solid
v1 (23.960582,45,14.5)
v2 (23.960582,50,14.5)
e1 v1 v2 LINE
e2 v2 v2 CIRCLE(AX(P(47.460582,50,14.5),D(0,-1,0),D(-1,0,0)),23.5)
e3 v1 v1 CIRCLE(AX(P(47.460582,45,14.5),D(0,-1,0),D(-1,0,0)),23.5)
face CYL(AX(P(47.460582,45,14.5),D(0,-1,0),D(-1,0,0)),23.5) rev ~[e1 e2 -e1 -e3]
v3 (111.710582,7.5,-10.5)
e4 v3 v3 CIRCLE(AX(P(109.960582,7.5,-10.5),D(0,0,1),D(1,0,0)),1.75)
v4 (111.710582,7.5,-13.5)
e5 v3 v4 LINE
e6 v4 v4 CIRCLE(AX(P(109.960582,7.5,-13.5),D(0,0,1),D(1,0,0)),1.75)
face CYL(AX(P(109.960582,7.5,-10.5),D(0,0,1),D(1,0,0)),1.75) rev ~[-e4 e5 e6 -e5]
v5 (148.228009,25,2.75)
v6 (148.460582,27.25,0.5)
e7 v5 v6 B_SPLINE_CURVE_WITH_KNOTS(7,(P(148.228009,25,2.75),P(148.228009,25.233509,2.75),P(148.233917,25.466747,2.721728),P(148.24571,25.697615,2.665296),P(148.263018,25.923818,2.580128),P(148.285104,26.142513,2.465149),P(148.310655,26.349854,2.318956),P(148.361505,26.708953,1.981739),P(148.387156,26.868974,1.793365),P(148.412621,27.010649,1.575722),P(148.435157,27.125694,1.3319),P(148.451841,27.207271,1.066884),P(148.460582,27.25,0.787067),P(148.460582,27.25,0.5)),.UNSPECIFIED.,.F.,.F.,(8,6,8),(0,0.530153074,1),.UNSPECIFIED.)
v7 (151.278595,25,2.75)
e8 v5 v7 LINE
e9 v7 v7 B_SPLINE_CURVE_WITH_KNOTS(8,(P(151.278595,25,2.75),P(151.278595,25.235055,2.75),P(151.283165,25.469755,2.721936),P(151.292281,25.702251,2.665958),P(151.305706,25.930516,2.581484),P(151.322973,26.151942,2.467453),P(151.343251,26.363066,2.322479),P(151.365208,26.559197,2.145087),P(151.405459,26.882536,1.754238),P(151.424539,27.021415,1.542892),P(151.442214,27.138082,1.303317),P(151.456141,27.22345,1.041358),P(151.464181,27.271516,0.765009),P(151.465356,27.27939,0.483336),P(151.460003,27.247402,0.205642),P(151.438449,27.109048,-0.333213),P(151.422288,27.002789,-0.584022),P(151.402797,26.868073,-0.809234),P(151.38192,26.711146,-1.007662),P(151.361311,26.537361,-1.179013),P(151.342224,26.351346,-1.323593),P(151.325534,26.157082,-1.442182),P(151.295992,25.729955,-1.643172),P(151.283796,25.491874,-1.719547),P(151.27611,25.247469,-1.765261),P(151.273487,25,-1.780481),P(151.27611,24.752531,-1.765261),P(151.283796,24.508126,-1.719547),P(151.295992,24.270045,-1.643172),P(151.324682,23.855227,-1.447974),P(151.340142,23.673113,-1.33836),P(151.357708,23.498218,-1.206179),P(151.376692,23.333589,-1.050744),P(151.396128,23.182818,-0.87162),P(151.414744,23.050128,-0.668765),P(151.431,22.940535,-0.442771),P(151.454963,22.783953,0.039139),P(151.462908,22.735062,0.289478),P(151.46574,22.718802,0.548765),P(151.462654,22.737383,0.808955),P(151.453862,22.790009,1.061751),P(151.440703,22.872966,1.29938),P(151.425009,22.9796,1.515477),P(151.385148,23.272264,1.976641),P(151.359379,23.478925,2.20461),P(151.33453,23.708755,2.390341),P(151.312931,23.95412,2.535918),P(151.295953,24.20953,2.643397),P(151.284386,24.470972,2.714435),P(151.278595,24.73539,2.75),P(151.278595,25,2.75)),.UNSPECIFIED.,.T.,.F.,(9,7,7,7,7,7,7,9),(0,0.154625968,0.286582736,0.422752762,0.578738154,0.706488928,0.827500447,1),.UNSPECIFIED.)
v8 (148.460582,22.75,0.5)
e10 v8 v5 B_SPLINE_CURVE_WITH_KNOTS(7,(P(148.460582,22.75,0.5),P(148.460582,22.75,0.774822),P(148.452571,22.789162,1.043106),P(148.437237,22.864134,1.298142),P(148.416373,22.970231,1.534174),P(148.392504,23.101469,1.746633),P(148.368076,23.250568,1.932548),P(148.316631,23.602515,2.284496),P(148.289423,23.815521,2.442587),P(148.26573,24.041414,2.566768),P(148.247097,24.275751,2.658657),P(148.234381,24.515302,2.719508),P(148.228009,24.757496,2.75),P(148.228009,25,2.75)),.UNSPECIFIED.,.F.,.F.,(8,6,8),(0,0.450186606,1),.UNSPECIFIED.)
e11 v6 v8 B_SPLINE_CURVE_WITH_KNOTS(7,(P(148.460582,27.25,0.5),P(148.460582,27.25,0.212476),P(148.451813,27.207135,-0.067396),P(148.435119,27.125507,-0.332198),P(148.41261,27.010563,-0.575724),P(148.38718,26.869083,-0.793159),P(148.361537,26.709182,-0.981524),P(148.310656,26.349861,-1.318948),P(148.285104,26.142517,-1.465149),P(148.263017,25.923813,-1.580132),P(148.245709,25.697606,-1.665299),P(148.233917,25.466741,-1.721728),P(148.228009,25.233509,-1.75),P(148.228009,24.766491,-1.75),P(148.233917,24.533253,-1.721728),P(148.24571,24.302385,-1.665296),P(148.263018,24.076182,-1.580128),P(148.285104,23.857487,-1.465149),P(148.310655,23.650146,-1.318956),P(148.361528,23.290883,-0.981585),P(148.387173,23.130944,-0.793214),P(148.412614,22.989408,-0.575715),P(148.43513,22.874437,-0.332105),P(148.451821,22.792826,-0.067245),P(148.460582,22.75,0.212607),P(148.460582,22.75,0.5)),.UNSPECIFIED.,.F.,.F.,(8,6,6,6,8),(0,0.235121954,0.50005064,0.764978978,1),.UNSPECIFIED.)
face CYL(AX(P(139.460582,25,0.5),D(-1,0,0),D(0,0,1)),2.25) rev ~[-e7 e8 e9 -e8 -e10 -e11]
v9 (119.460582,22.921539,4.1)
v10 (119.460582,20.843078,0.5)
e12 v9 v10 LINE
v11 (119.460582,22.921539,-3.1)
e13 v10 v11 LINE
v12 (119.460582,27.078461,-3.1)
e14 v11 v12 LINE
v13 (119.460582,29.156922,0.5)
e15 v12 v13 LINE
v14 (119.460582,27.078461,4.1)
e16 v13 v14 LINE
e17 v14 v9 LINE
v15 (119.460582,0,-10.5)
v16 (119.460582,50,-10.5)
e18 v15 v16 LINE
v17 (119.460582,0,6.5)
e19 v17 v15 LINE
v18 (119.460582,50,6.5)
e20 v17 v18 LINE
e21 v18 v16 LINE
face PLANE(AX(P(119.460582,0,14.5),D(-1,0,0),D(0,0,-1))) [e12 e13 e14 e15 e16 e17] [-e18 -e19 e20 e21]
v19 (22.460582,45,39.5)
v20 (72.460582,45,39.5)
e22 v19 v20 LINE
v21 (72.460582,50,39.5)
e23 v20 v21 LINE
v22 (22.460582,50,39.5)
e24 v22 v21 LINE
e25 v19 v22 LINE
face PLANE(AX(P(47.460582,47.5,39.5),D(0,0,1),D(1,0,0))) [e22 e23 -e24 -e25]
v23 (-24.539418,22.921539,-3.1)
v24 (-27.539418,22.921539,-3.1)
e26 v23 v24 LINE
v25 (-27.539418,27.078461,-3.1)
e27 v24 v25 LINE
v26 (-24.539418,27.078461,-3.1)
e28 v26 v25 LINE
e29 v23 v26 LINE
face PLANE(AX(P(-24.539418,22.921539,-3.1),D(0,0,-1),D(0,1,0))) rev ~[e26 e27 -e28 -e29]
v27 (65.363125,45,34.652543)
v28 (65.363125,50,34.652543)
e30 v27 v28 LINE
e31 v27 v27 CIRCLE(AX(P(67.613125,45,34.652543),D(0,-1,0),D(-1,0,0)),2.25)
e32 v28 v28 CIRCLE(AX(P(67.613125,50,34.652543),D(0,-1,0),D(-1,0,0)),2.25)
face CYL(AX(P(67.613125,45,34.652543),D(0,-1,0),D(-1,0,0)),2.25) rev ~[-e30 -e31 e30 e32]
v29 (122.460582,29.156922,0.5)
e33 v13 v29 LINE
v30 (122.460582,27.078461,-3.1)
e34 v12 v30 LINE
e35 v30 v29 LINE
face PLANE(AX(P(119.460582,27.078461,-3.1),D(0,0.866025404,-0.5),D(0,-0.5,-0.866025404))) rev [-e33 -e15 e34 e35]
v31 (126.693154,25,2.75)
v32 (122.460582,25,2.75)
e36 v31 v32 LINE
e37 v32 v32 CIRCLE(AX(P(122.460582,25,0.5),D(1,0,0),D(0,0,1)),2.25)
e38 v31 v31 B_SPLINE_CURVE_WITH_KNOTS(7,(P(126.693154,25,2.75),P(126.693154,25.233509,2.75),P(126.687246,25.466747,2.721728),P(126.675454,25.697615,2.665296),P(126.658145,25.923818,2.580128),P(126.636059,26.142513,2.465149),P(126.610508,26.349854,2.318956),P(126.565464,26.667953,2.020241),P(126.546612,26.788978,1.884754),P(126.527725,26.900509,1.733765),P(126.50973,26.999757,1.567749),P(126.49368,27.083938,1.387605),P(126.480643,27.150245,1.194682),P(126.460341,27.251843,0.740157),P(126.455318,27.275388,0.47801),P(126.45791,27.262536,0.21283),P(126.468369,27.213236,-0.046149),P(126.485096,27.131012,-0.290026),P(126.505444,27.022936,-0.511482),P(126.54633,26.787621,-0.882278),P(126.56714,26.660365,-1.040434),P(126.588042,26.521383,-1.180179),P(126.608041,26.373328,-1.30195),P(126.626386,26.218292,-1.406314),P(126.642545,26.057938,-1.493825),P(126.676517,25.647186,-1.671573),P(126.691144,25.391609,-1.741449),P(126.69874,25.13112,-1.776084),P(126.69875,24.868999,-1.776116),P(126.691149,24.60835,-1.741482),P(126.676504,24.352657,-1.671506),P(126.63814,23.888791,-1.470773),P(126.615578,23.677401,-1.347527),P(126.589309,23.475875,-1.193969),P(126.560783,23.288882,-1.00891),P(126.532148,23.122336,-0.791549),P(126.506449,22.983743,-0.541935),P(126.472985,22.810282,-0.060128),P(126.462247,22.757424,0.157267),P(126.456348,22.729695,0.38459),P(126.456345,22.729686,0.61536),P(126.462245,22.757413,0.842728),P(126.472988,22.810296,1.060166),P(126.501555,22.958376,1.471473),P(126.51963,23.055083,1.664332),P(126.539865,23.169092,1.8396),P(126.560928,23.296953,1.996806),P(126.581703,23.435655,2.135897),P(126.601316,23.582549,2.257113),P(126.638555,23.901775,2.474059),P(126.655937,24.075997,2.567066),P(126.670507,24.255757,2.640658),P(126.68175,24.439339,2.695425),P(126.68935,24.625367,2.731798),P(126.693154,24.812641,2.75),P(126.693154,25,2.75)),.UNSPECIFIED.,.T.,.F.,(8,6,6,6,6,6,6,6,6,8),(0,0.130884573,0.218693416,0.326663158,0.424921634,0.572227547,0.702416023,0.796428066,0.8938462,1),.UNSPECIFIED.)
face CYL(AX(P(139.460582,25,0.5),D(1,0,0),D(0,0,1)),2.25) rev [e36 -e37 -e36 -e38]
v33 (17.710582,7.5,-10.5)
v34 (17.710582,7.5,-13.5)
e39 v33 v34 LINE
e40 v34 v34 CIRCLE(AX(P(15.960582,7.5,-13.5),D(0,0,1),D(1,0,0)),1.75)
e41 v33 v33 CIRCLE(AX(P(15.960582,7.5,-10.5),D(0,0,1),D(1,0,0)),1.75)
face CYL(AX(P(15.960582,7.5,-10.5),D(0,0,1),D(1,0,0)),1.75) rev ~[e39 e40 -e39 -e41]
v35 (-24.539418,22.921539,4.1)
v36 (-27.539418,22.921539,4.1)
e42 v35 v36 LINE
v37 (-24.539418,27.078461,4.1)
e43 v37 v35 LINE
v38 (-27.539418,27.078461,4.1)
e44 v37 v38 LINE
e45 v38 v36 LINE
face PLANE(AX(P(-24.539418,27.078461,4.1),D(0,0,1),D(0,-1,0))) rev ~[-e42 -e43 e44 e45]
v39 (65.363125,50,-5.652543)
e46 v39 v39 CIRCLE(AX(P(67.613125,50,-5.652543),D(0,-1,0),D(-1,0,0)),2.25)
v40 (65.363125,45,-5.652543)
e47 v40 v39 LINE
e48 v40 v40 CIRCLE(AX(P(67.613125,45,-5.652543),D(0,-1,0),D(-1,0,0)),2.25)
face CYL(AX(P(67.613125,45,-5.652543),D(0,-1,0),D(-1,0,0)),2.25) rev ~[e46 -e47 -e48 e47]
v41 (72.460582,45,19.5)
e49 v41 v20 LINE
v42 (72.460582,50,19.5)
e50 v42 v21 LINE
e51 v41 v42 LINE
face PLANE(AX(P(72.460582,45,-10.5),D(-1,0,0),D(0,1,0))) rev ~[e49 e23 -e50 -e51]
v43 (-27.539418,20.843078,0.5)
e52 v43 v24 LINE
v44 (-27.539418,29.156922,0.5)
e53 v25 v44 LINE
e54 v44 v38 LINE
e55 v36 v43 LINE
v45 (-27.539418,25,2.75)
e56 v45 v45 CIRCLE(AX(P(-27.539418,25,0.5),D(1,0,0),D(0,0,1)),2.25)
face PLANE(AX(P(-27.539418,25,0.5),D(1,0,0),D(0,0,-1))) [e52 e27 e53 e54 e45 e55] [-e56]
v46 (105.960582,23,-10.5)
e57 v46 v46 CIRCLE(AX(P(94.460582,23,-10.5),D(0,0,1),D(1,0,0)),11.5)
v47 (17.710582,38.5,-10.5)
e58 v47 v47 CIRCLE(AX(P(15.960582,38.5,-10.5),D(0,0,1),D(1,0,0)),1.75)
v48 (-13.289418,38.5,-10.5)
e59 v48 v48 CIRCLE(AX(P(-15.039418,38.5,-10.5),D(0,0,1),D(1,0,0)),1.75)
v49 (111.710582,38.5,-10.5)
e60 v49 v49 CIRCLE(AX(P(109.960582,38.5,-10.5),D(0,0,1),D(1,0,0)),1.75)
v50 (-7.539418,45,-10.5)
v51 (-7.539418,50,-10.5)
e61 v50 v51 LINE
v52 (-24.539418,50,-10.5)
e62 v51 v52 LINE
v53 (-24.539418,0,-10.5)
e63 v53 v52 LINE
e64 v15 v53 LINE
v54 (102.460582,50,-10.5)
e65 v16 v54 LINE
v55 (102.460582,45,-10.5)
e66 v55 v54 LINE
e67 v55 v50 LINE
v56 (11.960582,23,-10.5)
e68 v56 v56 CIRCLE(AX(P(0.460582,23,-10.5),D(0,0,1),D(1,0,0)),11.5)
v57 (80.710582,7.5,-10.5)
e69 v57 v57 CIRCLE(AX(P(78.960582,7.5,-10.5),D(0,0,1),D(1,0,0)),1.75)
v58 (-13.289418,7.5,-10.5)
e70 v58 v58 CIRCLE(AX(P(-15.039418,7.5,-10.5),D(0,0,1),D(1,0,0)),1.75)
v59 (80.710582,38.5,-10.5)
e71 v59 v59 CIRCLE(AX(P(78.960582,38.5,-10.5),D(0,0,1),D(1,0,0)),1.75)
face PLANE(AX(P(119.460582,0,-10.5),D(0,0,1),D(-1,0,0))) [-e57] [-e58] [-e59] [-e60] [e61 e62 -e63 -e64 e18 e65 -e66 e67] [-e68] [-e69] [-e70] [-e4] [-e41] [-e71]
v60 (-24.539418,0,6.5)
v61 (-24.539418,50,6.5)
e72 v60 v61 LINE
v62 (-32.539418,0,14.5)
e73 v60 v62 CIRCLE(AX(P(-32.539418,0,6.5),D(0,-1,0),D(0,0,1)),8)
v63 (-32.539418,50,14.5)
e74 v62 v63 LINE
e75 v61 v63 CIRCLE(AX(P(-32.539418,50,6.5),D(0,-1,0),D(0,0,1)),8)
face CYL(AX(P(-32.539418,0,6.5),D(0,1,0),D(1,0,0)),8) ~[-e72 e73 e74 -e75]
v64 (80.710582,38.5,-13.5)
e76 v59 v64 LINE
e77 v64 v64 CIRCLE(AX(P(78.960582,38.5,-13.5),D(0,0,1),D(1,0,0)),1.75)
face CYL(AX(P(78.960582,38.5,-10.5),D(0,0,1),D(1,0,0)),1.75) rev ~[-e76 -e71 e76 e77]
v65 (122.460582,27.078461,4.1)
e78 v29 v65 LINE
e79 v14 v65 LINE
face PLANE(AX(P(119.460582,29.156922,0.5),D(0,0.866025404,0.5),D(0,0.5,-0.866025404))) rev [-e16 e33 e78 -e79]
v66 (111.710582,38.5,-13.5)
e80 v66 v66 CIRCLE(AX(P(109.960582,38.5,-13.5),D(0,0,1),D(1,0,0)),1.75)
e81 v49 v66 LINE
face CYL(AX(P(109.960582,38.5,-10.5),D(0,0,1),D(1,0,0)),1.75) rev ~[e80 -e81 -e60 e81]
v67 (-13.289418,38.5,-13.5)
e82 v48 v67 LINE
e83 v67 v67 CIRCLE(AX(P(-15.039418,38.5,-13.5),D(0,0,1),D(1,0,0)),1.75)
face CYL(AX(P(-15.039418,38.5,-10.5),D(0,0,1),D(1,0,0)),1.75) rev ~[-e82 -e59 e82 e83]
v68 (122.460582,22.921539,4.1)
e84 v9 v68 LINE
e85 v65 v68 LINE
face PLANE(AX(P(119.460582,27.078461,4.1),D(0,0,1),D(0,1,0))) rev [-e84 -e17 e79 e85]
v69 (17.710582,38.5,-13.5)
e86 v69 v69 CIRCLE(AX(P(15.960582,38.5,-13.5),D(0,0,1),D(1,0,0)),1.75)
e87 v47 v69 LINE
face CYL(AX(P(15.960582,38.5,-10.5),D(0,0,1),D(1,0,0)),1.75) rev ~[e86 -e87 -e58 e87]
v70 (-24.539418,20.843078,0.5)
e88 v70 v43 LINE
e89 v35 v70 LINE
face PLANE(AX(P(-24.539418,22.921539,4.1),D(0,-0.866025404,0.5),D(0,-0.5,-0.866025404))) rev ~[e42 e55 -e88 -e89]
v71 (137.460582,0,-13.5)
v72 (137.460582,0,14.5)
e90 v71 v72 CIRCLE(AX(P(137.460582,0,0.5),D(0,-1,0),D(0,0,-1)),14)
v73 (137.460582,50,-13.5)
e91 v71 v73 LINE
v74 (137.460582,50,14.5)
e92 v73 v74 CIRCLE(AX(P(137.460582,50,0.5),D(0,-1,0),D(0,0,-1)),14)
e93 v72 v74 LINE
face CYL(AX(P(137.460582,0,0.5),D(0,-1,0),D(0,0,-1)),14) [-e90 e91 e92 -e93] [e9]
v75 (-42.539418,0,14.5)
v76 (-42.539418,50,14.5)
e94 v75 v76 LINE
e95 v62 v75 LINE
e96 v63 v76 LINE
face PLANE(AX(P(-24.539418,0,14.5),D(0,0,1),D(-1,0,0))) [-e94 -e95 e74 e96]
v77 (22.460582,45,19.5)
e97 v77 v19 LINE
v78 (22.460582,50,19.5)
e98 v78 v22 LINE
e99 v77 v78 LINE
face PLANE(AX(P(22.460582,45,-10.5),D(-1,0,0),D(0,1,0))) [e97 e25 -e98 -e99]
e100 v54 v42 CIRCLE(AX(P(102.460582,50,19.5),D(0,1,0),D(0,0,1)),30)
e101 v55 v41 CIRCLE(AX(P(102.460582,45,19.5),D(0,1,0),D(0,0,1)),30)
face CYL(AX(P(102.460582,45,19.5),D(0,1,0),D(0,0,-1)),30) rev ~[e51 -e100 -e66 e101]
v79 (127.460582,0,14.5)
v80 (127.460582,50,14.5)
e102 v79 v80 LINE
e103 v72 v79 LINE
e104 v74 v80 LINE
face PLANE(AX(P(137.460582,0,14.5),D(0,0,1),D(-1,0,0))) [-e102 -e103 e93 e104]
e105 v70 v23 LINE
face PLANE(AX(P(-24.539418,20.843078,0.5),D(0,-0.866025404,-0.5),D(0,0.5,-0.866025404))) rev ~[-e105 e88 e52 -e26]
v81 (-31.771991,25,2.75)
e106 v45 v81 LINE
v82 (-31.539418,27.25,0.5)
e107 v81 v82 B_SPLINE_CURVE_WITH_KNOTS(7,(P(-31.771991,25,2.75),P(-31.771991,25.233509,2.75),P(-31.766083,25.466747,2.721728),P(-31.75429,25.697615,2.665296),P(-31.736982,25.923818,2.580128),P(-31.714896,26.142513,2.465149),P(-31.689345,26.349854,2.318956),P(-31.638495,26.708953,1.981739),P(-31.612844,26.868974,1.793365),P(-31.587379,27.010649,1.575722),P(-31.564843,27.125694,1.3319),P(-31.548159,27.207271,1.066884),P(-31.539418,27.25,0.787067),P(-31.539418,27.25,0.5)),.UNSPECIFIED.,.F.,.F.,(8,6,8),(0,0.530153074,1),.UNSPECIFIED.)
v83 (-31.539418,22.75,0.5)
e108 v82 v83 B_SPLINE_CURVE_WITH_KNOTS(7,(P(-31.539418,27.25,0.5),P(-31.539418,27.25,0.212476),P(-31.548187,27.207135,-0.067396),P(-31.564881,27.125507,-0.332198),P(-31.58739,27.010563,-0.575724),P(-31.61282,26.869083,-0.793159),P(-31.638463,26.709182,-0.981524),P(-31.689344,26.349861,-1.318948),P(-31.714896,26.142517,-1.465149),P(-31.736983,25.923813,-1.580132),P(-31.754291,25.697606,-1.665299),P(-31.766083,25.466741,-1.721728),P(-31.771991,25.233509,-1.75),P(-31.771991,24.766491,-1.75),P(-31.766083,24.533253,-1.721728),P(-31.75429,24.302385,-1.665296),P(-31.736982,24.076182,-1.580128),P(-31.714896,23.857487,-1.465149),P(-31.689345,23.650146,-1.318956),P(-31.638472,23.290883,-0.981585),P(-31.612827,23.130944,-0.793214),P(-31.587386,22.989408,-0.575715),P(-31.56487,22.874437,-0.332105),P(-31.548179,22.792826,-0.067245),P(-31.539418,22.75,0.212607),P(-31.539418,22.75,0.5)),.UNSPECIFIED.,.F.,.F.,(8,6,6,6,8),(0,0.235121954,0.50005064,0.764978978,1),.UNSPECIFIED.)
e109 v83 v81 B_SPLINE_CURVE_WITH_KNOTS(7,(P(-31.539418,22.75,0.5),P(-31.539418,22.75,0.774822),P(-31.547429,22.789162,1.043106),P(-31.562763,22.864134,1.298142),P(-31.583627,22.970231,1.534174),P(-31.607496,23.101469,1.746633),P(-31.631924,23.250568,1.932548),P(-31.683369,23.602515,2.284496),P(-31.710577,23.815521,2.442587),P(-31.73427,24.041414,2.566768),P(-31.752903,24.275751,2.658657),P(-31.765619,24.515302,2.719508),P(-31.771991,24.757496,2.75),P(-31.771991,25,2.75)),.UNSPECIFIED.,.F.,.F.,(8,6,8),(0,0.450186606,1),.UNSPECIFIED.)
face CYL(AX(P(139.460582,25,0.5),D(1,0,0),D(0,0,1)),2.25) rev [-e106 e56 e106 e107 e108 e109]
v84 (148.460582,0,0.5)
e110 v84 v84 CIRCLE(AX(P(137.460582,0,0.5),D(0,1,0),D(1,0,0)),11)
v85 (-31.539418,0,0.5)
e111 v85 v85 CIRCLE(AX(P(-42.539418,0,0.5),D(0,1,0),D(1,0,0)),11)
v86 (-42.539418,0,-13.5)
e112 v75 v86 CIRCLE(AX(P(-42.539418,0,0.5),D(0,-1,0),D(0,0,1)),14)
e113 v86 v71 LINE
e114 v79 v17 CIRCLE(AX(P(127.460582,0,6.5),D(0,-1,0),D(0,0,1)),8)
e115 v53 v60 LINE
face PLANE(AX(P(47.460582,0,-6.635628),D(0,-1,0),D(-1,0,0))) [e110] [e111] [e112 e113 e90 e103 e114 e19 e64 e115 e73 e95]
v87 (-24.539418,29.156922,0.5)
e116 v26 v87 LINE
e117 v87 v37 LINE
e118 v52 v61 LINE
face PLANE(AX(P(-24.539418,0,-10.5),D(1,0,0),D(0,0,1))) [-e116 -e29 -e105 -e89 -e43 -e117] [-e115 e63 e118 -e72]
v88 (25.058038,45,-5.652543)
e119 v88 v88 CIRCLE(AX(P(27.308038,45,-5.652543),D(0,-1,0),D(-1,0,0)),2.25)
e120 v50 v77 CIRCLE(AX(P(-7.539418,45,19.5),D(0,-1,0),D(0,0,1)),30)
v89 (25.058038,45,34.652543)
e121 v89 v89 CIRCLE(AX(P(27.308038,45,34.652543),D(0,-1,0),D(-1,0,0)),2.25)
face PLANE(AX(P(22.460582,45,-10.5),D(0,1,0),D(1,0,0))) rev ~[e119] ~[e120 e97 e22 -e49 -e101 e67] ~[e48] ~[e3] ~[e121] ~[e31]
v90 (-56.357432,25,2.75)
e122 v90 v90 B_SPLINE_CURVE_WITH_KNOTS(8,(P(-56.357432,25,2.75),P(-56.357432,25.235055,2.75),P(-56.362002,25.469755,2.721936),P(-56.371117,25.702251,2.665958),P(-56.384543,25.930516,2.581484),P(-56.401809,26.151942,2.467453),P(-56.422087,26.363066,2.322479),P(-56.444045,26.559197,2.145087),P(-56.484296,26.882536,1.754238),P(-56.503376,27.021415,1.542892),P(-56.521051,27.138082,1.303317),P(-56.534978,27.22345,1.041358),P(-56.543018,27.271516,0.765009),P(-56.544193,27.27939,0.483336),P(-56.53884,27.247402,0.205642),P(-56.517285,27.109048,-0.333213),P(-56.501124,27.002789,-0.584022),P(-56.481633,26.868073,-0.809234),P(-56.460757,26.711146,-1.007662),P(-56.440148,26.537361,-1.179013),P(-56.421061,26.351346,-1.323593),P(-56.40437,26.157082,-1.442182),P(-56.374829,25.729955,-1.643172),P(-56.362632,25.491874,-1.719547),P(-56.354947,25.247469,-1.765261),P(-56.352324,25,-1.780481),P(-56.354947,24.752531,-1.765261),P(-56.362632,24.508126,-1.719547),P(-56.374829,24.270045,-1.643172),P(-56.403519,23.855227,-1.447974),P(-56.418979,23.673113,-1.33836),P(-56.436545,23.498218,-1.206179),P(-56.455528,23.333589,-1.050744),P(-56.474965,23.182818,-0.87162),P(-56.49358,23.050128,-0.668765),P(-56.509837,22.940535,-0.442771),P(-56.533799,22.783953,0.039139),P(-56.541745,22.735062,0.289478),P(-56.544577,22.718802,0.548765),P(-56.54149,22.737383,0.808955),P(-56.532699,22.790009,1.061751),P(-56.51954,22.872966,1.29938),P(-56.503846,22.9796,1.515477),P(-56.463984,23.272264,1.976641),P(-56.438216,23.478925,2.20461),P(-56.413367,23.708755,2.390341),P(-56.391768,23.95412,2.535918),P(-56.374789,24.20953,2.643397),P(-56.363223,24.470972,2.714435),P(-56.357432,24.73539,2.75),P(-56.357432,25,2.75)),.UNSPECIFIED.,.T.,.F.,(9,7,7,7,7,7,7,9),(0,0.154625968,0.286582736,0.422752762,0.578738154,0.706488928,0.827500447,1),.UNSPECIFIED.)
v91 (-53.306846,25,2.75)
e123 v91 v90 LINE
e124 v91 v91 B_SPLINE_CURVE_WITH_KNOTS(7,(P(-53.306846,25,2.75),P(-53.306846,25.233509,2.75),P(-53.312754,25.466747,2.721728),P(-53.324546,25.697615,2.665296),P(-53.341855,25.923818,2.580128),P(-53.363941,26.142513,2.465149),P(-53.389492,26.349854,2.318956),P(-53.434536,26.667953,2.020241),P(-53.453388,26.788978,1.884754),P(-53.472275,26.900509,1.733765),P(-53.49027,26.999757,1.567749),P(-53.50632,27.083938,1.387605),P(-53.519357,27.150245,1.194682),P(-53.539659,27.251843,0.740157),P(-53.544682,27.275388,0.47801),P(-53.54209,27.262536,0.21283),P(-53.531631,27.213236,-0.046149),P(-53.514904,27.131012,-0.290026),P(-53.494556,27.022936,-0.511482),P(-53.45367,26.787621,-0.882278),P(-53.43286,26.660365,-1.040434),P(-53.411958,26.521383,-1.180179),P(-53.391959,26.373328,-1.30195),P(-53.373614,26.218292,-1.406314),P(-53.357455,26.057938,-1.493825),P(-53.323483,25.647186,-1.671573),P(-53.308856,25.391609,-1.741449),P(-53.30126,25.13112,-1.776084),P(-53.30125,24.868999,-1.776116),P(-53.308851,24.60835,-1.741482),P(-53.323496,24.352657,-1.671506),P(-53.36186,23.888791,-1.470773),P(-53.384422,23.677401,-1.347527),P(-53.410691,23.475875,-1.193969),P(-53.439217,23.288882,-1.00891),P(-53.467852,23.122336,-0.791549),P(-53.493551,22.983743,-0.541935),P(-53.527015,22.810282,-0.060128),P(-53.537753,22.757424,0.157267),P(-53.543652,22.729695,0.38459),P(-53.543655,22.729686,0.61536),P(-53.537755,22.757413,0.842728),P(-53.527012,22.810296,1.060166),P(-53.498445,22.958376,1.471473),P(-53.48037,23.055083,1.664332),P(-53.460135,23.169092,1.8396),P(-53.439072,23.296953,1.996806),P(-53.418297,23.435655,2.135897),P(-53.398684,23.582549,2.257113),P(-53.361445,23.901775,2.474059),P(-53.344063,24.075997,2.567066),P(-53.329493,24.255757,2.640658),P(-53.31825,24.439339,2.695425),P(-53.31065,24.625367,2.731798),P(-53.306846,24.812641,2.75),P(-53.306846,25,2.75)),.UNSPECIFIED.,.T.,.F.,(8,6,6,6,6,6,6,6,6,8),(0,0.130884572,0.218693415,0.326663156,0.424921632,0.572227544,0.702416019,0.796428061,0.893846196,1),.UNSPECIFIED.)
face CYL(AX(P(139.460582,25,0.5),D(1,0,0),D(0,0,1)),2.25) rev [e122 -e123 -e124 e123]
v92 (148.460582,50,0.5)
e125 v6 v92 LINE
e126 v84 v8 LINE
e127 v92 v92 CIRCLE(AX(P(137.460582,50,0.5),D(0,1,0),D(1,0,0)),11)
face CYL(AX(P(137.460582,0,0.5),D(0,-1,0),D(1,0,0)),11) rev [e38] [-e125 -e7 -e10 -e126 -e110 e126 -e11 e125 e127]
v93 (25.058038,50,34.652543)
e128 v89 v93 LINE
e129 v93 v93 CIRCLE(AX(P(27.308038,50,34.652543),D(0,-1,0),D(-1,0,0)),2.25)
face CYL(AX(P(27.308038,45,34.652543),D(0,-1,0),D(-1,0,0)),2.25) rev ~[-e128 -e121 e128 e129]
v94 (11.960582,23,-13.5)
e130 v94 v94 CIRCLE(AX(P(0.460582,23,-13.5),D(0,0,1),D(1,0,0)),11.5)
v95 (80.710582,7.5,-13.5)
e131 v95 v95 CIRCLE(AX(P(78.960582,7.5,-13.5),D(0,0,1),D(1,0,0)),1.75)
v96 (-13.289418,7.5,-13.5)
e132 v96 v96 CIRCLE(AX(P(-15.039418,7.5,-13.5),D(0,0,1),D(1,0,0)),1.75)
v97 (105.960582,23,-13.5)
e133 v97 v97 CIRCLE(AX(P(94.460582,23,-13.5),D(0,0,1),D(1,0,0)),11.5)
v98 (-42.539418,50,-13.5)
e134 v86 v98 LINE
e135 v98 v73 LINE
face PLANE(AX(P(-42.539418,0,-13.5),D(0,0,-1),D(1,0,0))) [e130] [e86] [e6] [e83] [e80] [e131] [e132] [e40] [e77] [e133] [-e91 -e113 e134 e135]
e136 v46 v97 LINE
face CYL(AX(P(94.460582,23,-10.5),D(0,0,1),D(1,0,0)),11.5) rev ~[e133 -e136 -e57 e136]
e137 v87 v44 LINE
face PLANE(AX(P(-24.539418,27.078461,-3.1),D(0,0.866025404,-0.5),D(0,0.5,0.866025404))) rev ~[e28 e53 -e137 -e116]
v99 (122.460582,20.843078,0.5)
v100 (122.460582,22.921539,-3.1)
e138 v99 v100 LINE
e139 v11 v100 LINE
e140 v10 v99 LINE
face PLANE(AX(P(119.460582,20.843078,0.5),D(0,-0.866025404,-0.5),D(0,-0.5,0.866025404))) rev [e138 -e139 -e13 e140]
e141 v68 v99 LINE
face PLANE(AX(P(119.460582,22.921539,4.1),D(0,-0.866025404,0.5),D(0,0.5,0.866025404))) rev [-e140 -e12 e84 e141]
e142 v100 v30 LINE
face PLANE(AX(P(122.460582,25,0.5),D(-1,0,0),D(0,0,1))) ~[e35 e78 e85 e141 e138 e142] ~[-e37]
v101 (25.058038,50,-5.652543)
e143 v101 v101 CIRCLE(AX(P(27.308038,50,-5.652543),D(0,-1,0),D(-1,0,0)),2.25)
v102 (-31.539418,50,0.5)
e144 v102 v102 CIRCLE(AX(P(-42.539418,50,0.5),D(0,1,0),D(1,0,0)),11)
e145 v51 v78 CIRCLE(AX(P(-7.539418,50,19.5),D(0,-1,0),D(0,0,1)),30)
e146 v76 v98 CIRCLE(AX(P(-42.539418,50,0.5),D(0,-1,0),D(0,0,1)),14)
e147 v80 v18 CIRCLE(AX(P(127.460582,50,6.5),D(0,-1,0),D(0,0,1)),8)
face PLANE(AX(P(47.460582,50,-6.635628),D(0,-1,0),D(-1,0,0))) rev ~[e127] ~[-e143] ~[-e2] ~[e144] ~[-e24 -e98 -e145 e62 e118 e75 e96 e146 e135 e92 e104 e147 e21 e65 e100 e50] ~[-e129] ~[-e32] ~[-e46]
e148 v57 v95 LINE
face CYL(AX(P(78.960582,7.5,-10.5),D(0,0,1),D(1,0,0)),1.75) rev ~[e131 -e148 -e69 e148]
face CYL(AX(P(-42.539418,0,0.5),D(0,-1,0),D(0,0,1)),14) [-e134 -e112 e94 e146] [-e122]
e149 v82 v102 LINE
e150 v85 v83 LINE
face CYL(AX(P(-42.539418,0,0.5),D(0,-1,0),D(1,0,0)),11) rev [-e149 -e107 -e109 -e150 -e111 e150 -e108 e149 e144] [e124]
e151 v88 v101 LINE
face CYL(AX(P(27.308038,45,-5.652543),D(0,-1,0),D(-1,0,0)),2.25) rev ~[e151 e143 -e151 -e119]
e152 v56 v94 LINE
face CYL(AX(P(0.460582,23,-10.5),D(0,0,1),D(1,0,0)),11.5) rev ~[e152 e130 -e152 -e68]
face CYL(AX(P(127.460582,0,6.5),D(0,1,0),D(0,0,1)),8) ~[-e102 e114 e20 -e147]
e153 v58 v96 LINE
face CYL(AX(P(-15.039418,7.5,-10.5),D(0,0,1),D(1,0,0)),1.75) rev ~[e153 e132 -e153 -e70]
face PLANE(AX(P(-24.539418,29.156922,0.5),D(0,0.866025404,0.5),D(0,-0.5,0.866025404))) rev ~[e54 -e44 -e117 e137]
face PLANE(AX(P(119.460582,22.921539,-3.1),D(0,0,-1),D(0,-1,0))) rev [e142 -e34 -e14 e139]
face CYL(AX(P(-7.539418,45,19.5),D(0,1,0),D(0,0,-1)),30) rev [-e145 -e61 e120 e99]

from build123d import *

# Parameters (mm, degrees)
SKETCH1_R               = 11
BOSS_EXTRUDE1_DEPTH     = 50
FILLET1_R               = 8
SKETCH2_R               = 11.5
SKETCH2_R_2             = 1.75
CUT_EXTRUDE1_DEPTH      = 10
SKETCH3_W               = 50
SKETCH3_H               = 5
BOSS_EXTRUDE2_DEPTH     = 50
SKETCH4_R               = 23.5
SKETCH4_R_2             = 2.25
CUT_EXTRUDE2_DEPTH      = 50
FILLET2_R               = 30
SKETCH6_R               = 2.25
CUT_EXTRUDE3_DEPTH      = 197
CUT_EXTRUDE3_DEPTH_BACK = 13
CUT_EXTRUDE4_DEPTH      = 3


with BuildPart() as part:
    # Sketch1 → Boss-Extrude1 (new body)
    with BuildSketch(Plane(origin=(0, 0, 0), x_dir=(1, 0, 0), z_dir=(0, 1, 0))):
        with BuildLine():
            Line((137.460581558, -14.5), (119.460581558, -14.5))
            Line((119.460581558, -14.5), (119.460581558, 10.5))
            Line((119.460581558, 10.5), (-24.539418442, 10.5))
            Line((-24.539418442, 10.5), (-24.539418442, -14.5))
            Line((-24.539418442, -14.5), (-42.539418442, -14.5))
            ThreePointArc((-42.539418442, -14.5), (-56.539418442, -0.5), (-42.539418442, 13.5))
            Line((-42.539418442, 13.5), (137.460581558, 13.5))
            ThreePointArc((137.460581558, 13.5), (151.460581558, -0.5), (137.460581558, -14.5))
        make_face()
        with Locations((-42.539418442, -0.5)):
            Circle(SKETCH1_R, mode=Mode.SUBTRACT)
        with Locations((137.460581558, -0.5)):
            Circle(SKETCH1_R, mode=Mode.SUBTRACT)
    extrude(amount=BOSS_EXTRUDE1_DEPTH)

    # Fillet1
    fillet1_edges = [part.edges().sort_by_distance(p)[0] for p in [
        (119.460581558, 25, 14.5),
        (-24.539418442, 25, 14.5),
    ]]
    fillet(fillet1_edges, radius=FILLET1_R)

    # Sketch2 → Cut-Extrude1 (cut)
    with BuildSketch(Plane.XY.offset(-10.5)):
        with Locations((0.460581558, 23)):
            Circle(SKETCH2_R)
        with Locations((15.960581558, 7.5)):
            Circle(SKETCH2_R_2)
        with Locations((-15.039418442, 7.5)):
            Circle(SKETCH2_R_2)
        with Locations((-15.039418442, 38.5)):
            Circle(SKETCH2_R_2)
        with Locations((15.960581558, 38.5)):
            Circle(SKETCH2_R_2)
        with Locations((78.960581558, 38.5)):
            Circle(SKETCH2_R_2)
        with Locations((109.960581558, 38.5)):
            Circle(SKETCH2_R_2)
        with Locations((109.960581558, 7.5)):
            Circle(SKETCH2_R_2)
        with Locations((94.460581558, 23)):
            Circle(SKETCH2_R)
        with Locations((78.960581558, 7.5)):
            Circle(SKETCH2_R_2)
    extrude(amount=-CUT_EXTRUDE1_DEPTH, mode=Mode.SUBTRACT)

    # Sketch3 → Boss-Extrude2 (add)
    with BuildSketch(Plane.XY.offset(-10.5)):
        with Locations((47.460581558, 47.5)):
            Rectangle(SKETCH3_W, SKETCH3_H)
    extrude(amount=BOSS_EXTRUDE2_DEPTH)

    # Sketch4 → Cut-Extrude2 (cut)
    with BuildSketch(Plane(origin=(0, 45, 0), x_dir=(-1, 0, 0), z_dir=(0, -1, 0))):
        with Locations((-47.460581558, -14.5)):
            Circle(SKETCH4_R)
        with Locations((-67.613124822, 5.652543264)):
            Circle(SKETCH4_R_2)
        with Locations((-27.308038294, 5.652543264)):
            Circle(SKETCH4_R_2)
        with Locations((-27.308038294, -34.652543264)):
            Circle(SKETCH4_R_2)
        with Locations((-67.613124822, -34.652543264)):
            Circle(SKETCH4_R_2)
    extrude(amount=-CUT_EXTRUDE2_DEPTH, mode=Mode.SUBTRACT)

    # Fillet2
    fillet2_edges = [part.edges().sort_by_distance(p)[0] for p in [
        (72.460581558, 47.5, -10.5),
        (22.460581558, 47.5, -10.5),
    ]]
    fillet(fillet2_edges, radius=FILLET2_R)

    # Sketch6 → Cut-Extrude3 (cut, two sides)
    with BuildSketch(Plane.ZY.offset(-139.460581558)) as cut_extrude3_sk:
        with Locations((0.5, 25)):
            Circle(SKETCH6_R)
    extrude(amount=CUT_EXTRUDE3_DEPTH, mode=Mode.SUBTRACT)
    extrude(cut_extrude3_sk.sketch, amount=-CUT_EXTRUDE3_DEPTH_BACK, mode=Mode.SUBTRACT)

    # Sketch7 → Cut-Extrude4 (cut)
    with BuildSketch(Plane(origin=(-24.539418442, 0, 0), x_dir=(0, 0, -1), z_dir=(1, 0, 0))):
        Polygon((-0.5, 20.843078062), (3.1, 22.921539031), (3.1, 27.078460969), (-0.5, 29.156921938), (-4.1, 27.078460969), (-4.1, 22.921539031), align=None)
    cut_extrude4 = extrude(amount=-CUT_EXTRUDE4_DEPTH, mode=Mode.SUBTRACT)

    # Mirror1: Cut-Extrude4 across plane
    add(cut_extrude4.mirror(Plane.ZY.offset(-47.460581558)), mode=Mode.SUBTRACT)


solid = part.part
